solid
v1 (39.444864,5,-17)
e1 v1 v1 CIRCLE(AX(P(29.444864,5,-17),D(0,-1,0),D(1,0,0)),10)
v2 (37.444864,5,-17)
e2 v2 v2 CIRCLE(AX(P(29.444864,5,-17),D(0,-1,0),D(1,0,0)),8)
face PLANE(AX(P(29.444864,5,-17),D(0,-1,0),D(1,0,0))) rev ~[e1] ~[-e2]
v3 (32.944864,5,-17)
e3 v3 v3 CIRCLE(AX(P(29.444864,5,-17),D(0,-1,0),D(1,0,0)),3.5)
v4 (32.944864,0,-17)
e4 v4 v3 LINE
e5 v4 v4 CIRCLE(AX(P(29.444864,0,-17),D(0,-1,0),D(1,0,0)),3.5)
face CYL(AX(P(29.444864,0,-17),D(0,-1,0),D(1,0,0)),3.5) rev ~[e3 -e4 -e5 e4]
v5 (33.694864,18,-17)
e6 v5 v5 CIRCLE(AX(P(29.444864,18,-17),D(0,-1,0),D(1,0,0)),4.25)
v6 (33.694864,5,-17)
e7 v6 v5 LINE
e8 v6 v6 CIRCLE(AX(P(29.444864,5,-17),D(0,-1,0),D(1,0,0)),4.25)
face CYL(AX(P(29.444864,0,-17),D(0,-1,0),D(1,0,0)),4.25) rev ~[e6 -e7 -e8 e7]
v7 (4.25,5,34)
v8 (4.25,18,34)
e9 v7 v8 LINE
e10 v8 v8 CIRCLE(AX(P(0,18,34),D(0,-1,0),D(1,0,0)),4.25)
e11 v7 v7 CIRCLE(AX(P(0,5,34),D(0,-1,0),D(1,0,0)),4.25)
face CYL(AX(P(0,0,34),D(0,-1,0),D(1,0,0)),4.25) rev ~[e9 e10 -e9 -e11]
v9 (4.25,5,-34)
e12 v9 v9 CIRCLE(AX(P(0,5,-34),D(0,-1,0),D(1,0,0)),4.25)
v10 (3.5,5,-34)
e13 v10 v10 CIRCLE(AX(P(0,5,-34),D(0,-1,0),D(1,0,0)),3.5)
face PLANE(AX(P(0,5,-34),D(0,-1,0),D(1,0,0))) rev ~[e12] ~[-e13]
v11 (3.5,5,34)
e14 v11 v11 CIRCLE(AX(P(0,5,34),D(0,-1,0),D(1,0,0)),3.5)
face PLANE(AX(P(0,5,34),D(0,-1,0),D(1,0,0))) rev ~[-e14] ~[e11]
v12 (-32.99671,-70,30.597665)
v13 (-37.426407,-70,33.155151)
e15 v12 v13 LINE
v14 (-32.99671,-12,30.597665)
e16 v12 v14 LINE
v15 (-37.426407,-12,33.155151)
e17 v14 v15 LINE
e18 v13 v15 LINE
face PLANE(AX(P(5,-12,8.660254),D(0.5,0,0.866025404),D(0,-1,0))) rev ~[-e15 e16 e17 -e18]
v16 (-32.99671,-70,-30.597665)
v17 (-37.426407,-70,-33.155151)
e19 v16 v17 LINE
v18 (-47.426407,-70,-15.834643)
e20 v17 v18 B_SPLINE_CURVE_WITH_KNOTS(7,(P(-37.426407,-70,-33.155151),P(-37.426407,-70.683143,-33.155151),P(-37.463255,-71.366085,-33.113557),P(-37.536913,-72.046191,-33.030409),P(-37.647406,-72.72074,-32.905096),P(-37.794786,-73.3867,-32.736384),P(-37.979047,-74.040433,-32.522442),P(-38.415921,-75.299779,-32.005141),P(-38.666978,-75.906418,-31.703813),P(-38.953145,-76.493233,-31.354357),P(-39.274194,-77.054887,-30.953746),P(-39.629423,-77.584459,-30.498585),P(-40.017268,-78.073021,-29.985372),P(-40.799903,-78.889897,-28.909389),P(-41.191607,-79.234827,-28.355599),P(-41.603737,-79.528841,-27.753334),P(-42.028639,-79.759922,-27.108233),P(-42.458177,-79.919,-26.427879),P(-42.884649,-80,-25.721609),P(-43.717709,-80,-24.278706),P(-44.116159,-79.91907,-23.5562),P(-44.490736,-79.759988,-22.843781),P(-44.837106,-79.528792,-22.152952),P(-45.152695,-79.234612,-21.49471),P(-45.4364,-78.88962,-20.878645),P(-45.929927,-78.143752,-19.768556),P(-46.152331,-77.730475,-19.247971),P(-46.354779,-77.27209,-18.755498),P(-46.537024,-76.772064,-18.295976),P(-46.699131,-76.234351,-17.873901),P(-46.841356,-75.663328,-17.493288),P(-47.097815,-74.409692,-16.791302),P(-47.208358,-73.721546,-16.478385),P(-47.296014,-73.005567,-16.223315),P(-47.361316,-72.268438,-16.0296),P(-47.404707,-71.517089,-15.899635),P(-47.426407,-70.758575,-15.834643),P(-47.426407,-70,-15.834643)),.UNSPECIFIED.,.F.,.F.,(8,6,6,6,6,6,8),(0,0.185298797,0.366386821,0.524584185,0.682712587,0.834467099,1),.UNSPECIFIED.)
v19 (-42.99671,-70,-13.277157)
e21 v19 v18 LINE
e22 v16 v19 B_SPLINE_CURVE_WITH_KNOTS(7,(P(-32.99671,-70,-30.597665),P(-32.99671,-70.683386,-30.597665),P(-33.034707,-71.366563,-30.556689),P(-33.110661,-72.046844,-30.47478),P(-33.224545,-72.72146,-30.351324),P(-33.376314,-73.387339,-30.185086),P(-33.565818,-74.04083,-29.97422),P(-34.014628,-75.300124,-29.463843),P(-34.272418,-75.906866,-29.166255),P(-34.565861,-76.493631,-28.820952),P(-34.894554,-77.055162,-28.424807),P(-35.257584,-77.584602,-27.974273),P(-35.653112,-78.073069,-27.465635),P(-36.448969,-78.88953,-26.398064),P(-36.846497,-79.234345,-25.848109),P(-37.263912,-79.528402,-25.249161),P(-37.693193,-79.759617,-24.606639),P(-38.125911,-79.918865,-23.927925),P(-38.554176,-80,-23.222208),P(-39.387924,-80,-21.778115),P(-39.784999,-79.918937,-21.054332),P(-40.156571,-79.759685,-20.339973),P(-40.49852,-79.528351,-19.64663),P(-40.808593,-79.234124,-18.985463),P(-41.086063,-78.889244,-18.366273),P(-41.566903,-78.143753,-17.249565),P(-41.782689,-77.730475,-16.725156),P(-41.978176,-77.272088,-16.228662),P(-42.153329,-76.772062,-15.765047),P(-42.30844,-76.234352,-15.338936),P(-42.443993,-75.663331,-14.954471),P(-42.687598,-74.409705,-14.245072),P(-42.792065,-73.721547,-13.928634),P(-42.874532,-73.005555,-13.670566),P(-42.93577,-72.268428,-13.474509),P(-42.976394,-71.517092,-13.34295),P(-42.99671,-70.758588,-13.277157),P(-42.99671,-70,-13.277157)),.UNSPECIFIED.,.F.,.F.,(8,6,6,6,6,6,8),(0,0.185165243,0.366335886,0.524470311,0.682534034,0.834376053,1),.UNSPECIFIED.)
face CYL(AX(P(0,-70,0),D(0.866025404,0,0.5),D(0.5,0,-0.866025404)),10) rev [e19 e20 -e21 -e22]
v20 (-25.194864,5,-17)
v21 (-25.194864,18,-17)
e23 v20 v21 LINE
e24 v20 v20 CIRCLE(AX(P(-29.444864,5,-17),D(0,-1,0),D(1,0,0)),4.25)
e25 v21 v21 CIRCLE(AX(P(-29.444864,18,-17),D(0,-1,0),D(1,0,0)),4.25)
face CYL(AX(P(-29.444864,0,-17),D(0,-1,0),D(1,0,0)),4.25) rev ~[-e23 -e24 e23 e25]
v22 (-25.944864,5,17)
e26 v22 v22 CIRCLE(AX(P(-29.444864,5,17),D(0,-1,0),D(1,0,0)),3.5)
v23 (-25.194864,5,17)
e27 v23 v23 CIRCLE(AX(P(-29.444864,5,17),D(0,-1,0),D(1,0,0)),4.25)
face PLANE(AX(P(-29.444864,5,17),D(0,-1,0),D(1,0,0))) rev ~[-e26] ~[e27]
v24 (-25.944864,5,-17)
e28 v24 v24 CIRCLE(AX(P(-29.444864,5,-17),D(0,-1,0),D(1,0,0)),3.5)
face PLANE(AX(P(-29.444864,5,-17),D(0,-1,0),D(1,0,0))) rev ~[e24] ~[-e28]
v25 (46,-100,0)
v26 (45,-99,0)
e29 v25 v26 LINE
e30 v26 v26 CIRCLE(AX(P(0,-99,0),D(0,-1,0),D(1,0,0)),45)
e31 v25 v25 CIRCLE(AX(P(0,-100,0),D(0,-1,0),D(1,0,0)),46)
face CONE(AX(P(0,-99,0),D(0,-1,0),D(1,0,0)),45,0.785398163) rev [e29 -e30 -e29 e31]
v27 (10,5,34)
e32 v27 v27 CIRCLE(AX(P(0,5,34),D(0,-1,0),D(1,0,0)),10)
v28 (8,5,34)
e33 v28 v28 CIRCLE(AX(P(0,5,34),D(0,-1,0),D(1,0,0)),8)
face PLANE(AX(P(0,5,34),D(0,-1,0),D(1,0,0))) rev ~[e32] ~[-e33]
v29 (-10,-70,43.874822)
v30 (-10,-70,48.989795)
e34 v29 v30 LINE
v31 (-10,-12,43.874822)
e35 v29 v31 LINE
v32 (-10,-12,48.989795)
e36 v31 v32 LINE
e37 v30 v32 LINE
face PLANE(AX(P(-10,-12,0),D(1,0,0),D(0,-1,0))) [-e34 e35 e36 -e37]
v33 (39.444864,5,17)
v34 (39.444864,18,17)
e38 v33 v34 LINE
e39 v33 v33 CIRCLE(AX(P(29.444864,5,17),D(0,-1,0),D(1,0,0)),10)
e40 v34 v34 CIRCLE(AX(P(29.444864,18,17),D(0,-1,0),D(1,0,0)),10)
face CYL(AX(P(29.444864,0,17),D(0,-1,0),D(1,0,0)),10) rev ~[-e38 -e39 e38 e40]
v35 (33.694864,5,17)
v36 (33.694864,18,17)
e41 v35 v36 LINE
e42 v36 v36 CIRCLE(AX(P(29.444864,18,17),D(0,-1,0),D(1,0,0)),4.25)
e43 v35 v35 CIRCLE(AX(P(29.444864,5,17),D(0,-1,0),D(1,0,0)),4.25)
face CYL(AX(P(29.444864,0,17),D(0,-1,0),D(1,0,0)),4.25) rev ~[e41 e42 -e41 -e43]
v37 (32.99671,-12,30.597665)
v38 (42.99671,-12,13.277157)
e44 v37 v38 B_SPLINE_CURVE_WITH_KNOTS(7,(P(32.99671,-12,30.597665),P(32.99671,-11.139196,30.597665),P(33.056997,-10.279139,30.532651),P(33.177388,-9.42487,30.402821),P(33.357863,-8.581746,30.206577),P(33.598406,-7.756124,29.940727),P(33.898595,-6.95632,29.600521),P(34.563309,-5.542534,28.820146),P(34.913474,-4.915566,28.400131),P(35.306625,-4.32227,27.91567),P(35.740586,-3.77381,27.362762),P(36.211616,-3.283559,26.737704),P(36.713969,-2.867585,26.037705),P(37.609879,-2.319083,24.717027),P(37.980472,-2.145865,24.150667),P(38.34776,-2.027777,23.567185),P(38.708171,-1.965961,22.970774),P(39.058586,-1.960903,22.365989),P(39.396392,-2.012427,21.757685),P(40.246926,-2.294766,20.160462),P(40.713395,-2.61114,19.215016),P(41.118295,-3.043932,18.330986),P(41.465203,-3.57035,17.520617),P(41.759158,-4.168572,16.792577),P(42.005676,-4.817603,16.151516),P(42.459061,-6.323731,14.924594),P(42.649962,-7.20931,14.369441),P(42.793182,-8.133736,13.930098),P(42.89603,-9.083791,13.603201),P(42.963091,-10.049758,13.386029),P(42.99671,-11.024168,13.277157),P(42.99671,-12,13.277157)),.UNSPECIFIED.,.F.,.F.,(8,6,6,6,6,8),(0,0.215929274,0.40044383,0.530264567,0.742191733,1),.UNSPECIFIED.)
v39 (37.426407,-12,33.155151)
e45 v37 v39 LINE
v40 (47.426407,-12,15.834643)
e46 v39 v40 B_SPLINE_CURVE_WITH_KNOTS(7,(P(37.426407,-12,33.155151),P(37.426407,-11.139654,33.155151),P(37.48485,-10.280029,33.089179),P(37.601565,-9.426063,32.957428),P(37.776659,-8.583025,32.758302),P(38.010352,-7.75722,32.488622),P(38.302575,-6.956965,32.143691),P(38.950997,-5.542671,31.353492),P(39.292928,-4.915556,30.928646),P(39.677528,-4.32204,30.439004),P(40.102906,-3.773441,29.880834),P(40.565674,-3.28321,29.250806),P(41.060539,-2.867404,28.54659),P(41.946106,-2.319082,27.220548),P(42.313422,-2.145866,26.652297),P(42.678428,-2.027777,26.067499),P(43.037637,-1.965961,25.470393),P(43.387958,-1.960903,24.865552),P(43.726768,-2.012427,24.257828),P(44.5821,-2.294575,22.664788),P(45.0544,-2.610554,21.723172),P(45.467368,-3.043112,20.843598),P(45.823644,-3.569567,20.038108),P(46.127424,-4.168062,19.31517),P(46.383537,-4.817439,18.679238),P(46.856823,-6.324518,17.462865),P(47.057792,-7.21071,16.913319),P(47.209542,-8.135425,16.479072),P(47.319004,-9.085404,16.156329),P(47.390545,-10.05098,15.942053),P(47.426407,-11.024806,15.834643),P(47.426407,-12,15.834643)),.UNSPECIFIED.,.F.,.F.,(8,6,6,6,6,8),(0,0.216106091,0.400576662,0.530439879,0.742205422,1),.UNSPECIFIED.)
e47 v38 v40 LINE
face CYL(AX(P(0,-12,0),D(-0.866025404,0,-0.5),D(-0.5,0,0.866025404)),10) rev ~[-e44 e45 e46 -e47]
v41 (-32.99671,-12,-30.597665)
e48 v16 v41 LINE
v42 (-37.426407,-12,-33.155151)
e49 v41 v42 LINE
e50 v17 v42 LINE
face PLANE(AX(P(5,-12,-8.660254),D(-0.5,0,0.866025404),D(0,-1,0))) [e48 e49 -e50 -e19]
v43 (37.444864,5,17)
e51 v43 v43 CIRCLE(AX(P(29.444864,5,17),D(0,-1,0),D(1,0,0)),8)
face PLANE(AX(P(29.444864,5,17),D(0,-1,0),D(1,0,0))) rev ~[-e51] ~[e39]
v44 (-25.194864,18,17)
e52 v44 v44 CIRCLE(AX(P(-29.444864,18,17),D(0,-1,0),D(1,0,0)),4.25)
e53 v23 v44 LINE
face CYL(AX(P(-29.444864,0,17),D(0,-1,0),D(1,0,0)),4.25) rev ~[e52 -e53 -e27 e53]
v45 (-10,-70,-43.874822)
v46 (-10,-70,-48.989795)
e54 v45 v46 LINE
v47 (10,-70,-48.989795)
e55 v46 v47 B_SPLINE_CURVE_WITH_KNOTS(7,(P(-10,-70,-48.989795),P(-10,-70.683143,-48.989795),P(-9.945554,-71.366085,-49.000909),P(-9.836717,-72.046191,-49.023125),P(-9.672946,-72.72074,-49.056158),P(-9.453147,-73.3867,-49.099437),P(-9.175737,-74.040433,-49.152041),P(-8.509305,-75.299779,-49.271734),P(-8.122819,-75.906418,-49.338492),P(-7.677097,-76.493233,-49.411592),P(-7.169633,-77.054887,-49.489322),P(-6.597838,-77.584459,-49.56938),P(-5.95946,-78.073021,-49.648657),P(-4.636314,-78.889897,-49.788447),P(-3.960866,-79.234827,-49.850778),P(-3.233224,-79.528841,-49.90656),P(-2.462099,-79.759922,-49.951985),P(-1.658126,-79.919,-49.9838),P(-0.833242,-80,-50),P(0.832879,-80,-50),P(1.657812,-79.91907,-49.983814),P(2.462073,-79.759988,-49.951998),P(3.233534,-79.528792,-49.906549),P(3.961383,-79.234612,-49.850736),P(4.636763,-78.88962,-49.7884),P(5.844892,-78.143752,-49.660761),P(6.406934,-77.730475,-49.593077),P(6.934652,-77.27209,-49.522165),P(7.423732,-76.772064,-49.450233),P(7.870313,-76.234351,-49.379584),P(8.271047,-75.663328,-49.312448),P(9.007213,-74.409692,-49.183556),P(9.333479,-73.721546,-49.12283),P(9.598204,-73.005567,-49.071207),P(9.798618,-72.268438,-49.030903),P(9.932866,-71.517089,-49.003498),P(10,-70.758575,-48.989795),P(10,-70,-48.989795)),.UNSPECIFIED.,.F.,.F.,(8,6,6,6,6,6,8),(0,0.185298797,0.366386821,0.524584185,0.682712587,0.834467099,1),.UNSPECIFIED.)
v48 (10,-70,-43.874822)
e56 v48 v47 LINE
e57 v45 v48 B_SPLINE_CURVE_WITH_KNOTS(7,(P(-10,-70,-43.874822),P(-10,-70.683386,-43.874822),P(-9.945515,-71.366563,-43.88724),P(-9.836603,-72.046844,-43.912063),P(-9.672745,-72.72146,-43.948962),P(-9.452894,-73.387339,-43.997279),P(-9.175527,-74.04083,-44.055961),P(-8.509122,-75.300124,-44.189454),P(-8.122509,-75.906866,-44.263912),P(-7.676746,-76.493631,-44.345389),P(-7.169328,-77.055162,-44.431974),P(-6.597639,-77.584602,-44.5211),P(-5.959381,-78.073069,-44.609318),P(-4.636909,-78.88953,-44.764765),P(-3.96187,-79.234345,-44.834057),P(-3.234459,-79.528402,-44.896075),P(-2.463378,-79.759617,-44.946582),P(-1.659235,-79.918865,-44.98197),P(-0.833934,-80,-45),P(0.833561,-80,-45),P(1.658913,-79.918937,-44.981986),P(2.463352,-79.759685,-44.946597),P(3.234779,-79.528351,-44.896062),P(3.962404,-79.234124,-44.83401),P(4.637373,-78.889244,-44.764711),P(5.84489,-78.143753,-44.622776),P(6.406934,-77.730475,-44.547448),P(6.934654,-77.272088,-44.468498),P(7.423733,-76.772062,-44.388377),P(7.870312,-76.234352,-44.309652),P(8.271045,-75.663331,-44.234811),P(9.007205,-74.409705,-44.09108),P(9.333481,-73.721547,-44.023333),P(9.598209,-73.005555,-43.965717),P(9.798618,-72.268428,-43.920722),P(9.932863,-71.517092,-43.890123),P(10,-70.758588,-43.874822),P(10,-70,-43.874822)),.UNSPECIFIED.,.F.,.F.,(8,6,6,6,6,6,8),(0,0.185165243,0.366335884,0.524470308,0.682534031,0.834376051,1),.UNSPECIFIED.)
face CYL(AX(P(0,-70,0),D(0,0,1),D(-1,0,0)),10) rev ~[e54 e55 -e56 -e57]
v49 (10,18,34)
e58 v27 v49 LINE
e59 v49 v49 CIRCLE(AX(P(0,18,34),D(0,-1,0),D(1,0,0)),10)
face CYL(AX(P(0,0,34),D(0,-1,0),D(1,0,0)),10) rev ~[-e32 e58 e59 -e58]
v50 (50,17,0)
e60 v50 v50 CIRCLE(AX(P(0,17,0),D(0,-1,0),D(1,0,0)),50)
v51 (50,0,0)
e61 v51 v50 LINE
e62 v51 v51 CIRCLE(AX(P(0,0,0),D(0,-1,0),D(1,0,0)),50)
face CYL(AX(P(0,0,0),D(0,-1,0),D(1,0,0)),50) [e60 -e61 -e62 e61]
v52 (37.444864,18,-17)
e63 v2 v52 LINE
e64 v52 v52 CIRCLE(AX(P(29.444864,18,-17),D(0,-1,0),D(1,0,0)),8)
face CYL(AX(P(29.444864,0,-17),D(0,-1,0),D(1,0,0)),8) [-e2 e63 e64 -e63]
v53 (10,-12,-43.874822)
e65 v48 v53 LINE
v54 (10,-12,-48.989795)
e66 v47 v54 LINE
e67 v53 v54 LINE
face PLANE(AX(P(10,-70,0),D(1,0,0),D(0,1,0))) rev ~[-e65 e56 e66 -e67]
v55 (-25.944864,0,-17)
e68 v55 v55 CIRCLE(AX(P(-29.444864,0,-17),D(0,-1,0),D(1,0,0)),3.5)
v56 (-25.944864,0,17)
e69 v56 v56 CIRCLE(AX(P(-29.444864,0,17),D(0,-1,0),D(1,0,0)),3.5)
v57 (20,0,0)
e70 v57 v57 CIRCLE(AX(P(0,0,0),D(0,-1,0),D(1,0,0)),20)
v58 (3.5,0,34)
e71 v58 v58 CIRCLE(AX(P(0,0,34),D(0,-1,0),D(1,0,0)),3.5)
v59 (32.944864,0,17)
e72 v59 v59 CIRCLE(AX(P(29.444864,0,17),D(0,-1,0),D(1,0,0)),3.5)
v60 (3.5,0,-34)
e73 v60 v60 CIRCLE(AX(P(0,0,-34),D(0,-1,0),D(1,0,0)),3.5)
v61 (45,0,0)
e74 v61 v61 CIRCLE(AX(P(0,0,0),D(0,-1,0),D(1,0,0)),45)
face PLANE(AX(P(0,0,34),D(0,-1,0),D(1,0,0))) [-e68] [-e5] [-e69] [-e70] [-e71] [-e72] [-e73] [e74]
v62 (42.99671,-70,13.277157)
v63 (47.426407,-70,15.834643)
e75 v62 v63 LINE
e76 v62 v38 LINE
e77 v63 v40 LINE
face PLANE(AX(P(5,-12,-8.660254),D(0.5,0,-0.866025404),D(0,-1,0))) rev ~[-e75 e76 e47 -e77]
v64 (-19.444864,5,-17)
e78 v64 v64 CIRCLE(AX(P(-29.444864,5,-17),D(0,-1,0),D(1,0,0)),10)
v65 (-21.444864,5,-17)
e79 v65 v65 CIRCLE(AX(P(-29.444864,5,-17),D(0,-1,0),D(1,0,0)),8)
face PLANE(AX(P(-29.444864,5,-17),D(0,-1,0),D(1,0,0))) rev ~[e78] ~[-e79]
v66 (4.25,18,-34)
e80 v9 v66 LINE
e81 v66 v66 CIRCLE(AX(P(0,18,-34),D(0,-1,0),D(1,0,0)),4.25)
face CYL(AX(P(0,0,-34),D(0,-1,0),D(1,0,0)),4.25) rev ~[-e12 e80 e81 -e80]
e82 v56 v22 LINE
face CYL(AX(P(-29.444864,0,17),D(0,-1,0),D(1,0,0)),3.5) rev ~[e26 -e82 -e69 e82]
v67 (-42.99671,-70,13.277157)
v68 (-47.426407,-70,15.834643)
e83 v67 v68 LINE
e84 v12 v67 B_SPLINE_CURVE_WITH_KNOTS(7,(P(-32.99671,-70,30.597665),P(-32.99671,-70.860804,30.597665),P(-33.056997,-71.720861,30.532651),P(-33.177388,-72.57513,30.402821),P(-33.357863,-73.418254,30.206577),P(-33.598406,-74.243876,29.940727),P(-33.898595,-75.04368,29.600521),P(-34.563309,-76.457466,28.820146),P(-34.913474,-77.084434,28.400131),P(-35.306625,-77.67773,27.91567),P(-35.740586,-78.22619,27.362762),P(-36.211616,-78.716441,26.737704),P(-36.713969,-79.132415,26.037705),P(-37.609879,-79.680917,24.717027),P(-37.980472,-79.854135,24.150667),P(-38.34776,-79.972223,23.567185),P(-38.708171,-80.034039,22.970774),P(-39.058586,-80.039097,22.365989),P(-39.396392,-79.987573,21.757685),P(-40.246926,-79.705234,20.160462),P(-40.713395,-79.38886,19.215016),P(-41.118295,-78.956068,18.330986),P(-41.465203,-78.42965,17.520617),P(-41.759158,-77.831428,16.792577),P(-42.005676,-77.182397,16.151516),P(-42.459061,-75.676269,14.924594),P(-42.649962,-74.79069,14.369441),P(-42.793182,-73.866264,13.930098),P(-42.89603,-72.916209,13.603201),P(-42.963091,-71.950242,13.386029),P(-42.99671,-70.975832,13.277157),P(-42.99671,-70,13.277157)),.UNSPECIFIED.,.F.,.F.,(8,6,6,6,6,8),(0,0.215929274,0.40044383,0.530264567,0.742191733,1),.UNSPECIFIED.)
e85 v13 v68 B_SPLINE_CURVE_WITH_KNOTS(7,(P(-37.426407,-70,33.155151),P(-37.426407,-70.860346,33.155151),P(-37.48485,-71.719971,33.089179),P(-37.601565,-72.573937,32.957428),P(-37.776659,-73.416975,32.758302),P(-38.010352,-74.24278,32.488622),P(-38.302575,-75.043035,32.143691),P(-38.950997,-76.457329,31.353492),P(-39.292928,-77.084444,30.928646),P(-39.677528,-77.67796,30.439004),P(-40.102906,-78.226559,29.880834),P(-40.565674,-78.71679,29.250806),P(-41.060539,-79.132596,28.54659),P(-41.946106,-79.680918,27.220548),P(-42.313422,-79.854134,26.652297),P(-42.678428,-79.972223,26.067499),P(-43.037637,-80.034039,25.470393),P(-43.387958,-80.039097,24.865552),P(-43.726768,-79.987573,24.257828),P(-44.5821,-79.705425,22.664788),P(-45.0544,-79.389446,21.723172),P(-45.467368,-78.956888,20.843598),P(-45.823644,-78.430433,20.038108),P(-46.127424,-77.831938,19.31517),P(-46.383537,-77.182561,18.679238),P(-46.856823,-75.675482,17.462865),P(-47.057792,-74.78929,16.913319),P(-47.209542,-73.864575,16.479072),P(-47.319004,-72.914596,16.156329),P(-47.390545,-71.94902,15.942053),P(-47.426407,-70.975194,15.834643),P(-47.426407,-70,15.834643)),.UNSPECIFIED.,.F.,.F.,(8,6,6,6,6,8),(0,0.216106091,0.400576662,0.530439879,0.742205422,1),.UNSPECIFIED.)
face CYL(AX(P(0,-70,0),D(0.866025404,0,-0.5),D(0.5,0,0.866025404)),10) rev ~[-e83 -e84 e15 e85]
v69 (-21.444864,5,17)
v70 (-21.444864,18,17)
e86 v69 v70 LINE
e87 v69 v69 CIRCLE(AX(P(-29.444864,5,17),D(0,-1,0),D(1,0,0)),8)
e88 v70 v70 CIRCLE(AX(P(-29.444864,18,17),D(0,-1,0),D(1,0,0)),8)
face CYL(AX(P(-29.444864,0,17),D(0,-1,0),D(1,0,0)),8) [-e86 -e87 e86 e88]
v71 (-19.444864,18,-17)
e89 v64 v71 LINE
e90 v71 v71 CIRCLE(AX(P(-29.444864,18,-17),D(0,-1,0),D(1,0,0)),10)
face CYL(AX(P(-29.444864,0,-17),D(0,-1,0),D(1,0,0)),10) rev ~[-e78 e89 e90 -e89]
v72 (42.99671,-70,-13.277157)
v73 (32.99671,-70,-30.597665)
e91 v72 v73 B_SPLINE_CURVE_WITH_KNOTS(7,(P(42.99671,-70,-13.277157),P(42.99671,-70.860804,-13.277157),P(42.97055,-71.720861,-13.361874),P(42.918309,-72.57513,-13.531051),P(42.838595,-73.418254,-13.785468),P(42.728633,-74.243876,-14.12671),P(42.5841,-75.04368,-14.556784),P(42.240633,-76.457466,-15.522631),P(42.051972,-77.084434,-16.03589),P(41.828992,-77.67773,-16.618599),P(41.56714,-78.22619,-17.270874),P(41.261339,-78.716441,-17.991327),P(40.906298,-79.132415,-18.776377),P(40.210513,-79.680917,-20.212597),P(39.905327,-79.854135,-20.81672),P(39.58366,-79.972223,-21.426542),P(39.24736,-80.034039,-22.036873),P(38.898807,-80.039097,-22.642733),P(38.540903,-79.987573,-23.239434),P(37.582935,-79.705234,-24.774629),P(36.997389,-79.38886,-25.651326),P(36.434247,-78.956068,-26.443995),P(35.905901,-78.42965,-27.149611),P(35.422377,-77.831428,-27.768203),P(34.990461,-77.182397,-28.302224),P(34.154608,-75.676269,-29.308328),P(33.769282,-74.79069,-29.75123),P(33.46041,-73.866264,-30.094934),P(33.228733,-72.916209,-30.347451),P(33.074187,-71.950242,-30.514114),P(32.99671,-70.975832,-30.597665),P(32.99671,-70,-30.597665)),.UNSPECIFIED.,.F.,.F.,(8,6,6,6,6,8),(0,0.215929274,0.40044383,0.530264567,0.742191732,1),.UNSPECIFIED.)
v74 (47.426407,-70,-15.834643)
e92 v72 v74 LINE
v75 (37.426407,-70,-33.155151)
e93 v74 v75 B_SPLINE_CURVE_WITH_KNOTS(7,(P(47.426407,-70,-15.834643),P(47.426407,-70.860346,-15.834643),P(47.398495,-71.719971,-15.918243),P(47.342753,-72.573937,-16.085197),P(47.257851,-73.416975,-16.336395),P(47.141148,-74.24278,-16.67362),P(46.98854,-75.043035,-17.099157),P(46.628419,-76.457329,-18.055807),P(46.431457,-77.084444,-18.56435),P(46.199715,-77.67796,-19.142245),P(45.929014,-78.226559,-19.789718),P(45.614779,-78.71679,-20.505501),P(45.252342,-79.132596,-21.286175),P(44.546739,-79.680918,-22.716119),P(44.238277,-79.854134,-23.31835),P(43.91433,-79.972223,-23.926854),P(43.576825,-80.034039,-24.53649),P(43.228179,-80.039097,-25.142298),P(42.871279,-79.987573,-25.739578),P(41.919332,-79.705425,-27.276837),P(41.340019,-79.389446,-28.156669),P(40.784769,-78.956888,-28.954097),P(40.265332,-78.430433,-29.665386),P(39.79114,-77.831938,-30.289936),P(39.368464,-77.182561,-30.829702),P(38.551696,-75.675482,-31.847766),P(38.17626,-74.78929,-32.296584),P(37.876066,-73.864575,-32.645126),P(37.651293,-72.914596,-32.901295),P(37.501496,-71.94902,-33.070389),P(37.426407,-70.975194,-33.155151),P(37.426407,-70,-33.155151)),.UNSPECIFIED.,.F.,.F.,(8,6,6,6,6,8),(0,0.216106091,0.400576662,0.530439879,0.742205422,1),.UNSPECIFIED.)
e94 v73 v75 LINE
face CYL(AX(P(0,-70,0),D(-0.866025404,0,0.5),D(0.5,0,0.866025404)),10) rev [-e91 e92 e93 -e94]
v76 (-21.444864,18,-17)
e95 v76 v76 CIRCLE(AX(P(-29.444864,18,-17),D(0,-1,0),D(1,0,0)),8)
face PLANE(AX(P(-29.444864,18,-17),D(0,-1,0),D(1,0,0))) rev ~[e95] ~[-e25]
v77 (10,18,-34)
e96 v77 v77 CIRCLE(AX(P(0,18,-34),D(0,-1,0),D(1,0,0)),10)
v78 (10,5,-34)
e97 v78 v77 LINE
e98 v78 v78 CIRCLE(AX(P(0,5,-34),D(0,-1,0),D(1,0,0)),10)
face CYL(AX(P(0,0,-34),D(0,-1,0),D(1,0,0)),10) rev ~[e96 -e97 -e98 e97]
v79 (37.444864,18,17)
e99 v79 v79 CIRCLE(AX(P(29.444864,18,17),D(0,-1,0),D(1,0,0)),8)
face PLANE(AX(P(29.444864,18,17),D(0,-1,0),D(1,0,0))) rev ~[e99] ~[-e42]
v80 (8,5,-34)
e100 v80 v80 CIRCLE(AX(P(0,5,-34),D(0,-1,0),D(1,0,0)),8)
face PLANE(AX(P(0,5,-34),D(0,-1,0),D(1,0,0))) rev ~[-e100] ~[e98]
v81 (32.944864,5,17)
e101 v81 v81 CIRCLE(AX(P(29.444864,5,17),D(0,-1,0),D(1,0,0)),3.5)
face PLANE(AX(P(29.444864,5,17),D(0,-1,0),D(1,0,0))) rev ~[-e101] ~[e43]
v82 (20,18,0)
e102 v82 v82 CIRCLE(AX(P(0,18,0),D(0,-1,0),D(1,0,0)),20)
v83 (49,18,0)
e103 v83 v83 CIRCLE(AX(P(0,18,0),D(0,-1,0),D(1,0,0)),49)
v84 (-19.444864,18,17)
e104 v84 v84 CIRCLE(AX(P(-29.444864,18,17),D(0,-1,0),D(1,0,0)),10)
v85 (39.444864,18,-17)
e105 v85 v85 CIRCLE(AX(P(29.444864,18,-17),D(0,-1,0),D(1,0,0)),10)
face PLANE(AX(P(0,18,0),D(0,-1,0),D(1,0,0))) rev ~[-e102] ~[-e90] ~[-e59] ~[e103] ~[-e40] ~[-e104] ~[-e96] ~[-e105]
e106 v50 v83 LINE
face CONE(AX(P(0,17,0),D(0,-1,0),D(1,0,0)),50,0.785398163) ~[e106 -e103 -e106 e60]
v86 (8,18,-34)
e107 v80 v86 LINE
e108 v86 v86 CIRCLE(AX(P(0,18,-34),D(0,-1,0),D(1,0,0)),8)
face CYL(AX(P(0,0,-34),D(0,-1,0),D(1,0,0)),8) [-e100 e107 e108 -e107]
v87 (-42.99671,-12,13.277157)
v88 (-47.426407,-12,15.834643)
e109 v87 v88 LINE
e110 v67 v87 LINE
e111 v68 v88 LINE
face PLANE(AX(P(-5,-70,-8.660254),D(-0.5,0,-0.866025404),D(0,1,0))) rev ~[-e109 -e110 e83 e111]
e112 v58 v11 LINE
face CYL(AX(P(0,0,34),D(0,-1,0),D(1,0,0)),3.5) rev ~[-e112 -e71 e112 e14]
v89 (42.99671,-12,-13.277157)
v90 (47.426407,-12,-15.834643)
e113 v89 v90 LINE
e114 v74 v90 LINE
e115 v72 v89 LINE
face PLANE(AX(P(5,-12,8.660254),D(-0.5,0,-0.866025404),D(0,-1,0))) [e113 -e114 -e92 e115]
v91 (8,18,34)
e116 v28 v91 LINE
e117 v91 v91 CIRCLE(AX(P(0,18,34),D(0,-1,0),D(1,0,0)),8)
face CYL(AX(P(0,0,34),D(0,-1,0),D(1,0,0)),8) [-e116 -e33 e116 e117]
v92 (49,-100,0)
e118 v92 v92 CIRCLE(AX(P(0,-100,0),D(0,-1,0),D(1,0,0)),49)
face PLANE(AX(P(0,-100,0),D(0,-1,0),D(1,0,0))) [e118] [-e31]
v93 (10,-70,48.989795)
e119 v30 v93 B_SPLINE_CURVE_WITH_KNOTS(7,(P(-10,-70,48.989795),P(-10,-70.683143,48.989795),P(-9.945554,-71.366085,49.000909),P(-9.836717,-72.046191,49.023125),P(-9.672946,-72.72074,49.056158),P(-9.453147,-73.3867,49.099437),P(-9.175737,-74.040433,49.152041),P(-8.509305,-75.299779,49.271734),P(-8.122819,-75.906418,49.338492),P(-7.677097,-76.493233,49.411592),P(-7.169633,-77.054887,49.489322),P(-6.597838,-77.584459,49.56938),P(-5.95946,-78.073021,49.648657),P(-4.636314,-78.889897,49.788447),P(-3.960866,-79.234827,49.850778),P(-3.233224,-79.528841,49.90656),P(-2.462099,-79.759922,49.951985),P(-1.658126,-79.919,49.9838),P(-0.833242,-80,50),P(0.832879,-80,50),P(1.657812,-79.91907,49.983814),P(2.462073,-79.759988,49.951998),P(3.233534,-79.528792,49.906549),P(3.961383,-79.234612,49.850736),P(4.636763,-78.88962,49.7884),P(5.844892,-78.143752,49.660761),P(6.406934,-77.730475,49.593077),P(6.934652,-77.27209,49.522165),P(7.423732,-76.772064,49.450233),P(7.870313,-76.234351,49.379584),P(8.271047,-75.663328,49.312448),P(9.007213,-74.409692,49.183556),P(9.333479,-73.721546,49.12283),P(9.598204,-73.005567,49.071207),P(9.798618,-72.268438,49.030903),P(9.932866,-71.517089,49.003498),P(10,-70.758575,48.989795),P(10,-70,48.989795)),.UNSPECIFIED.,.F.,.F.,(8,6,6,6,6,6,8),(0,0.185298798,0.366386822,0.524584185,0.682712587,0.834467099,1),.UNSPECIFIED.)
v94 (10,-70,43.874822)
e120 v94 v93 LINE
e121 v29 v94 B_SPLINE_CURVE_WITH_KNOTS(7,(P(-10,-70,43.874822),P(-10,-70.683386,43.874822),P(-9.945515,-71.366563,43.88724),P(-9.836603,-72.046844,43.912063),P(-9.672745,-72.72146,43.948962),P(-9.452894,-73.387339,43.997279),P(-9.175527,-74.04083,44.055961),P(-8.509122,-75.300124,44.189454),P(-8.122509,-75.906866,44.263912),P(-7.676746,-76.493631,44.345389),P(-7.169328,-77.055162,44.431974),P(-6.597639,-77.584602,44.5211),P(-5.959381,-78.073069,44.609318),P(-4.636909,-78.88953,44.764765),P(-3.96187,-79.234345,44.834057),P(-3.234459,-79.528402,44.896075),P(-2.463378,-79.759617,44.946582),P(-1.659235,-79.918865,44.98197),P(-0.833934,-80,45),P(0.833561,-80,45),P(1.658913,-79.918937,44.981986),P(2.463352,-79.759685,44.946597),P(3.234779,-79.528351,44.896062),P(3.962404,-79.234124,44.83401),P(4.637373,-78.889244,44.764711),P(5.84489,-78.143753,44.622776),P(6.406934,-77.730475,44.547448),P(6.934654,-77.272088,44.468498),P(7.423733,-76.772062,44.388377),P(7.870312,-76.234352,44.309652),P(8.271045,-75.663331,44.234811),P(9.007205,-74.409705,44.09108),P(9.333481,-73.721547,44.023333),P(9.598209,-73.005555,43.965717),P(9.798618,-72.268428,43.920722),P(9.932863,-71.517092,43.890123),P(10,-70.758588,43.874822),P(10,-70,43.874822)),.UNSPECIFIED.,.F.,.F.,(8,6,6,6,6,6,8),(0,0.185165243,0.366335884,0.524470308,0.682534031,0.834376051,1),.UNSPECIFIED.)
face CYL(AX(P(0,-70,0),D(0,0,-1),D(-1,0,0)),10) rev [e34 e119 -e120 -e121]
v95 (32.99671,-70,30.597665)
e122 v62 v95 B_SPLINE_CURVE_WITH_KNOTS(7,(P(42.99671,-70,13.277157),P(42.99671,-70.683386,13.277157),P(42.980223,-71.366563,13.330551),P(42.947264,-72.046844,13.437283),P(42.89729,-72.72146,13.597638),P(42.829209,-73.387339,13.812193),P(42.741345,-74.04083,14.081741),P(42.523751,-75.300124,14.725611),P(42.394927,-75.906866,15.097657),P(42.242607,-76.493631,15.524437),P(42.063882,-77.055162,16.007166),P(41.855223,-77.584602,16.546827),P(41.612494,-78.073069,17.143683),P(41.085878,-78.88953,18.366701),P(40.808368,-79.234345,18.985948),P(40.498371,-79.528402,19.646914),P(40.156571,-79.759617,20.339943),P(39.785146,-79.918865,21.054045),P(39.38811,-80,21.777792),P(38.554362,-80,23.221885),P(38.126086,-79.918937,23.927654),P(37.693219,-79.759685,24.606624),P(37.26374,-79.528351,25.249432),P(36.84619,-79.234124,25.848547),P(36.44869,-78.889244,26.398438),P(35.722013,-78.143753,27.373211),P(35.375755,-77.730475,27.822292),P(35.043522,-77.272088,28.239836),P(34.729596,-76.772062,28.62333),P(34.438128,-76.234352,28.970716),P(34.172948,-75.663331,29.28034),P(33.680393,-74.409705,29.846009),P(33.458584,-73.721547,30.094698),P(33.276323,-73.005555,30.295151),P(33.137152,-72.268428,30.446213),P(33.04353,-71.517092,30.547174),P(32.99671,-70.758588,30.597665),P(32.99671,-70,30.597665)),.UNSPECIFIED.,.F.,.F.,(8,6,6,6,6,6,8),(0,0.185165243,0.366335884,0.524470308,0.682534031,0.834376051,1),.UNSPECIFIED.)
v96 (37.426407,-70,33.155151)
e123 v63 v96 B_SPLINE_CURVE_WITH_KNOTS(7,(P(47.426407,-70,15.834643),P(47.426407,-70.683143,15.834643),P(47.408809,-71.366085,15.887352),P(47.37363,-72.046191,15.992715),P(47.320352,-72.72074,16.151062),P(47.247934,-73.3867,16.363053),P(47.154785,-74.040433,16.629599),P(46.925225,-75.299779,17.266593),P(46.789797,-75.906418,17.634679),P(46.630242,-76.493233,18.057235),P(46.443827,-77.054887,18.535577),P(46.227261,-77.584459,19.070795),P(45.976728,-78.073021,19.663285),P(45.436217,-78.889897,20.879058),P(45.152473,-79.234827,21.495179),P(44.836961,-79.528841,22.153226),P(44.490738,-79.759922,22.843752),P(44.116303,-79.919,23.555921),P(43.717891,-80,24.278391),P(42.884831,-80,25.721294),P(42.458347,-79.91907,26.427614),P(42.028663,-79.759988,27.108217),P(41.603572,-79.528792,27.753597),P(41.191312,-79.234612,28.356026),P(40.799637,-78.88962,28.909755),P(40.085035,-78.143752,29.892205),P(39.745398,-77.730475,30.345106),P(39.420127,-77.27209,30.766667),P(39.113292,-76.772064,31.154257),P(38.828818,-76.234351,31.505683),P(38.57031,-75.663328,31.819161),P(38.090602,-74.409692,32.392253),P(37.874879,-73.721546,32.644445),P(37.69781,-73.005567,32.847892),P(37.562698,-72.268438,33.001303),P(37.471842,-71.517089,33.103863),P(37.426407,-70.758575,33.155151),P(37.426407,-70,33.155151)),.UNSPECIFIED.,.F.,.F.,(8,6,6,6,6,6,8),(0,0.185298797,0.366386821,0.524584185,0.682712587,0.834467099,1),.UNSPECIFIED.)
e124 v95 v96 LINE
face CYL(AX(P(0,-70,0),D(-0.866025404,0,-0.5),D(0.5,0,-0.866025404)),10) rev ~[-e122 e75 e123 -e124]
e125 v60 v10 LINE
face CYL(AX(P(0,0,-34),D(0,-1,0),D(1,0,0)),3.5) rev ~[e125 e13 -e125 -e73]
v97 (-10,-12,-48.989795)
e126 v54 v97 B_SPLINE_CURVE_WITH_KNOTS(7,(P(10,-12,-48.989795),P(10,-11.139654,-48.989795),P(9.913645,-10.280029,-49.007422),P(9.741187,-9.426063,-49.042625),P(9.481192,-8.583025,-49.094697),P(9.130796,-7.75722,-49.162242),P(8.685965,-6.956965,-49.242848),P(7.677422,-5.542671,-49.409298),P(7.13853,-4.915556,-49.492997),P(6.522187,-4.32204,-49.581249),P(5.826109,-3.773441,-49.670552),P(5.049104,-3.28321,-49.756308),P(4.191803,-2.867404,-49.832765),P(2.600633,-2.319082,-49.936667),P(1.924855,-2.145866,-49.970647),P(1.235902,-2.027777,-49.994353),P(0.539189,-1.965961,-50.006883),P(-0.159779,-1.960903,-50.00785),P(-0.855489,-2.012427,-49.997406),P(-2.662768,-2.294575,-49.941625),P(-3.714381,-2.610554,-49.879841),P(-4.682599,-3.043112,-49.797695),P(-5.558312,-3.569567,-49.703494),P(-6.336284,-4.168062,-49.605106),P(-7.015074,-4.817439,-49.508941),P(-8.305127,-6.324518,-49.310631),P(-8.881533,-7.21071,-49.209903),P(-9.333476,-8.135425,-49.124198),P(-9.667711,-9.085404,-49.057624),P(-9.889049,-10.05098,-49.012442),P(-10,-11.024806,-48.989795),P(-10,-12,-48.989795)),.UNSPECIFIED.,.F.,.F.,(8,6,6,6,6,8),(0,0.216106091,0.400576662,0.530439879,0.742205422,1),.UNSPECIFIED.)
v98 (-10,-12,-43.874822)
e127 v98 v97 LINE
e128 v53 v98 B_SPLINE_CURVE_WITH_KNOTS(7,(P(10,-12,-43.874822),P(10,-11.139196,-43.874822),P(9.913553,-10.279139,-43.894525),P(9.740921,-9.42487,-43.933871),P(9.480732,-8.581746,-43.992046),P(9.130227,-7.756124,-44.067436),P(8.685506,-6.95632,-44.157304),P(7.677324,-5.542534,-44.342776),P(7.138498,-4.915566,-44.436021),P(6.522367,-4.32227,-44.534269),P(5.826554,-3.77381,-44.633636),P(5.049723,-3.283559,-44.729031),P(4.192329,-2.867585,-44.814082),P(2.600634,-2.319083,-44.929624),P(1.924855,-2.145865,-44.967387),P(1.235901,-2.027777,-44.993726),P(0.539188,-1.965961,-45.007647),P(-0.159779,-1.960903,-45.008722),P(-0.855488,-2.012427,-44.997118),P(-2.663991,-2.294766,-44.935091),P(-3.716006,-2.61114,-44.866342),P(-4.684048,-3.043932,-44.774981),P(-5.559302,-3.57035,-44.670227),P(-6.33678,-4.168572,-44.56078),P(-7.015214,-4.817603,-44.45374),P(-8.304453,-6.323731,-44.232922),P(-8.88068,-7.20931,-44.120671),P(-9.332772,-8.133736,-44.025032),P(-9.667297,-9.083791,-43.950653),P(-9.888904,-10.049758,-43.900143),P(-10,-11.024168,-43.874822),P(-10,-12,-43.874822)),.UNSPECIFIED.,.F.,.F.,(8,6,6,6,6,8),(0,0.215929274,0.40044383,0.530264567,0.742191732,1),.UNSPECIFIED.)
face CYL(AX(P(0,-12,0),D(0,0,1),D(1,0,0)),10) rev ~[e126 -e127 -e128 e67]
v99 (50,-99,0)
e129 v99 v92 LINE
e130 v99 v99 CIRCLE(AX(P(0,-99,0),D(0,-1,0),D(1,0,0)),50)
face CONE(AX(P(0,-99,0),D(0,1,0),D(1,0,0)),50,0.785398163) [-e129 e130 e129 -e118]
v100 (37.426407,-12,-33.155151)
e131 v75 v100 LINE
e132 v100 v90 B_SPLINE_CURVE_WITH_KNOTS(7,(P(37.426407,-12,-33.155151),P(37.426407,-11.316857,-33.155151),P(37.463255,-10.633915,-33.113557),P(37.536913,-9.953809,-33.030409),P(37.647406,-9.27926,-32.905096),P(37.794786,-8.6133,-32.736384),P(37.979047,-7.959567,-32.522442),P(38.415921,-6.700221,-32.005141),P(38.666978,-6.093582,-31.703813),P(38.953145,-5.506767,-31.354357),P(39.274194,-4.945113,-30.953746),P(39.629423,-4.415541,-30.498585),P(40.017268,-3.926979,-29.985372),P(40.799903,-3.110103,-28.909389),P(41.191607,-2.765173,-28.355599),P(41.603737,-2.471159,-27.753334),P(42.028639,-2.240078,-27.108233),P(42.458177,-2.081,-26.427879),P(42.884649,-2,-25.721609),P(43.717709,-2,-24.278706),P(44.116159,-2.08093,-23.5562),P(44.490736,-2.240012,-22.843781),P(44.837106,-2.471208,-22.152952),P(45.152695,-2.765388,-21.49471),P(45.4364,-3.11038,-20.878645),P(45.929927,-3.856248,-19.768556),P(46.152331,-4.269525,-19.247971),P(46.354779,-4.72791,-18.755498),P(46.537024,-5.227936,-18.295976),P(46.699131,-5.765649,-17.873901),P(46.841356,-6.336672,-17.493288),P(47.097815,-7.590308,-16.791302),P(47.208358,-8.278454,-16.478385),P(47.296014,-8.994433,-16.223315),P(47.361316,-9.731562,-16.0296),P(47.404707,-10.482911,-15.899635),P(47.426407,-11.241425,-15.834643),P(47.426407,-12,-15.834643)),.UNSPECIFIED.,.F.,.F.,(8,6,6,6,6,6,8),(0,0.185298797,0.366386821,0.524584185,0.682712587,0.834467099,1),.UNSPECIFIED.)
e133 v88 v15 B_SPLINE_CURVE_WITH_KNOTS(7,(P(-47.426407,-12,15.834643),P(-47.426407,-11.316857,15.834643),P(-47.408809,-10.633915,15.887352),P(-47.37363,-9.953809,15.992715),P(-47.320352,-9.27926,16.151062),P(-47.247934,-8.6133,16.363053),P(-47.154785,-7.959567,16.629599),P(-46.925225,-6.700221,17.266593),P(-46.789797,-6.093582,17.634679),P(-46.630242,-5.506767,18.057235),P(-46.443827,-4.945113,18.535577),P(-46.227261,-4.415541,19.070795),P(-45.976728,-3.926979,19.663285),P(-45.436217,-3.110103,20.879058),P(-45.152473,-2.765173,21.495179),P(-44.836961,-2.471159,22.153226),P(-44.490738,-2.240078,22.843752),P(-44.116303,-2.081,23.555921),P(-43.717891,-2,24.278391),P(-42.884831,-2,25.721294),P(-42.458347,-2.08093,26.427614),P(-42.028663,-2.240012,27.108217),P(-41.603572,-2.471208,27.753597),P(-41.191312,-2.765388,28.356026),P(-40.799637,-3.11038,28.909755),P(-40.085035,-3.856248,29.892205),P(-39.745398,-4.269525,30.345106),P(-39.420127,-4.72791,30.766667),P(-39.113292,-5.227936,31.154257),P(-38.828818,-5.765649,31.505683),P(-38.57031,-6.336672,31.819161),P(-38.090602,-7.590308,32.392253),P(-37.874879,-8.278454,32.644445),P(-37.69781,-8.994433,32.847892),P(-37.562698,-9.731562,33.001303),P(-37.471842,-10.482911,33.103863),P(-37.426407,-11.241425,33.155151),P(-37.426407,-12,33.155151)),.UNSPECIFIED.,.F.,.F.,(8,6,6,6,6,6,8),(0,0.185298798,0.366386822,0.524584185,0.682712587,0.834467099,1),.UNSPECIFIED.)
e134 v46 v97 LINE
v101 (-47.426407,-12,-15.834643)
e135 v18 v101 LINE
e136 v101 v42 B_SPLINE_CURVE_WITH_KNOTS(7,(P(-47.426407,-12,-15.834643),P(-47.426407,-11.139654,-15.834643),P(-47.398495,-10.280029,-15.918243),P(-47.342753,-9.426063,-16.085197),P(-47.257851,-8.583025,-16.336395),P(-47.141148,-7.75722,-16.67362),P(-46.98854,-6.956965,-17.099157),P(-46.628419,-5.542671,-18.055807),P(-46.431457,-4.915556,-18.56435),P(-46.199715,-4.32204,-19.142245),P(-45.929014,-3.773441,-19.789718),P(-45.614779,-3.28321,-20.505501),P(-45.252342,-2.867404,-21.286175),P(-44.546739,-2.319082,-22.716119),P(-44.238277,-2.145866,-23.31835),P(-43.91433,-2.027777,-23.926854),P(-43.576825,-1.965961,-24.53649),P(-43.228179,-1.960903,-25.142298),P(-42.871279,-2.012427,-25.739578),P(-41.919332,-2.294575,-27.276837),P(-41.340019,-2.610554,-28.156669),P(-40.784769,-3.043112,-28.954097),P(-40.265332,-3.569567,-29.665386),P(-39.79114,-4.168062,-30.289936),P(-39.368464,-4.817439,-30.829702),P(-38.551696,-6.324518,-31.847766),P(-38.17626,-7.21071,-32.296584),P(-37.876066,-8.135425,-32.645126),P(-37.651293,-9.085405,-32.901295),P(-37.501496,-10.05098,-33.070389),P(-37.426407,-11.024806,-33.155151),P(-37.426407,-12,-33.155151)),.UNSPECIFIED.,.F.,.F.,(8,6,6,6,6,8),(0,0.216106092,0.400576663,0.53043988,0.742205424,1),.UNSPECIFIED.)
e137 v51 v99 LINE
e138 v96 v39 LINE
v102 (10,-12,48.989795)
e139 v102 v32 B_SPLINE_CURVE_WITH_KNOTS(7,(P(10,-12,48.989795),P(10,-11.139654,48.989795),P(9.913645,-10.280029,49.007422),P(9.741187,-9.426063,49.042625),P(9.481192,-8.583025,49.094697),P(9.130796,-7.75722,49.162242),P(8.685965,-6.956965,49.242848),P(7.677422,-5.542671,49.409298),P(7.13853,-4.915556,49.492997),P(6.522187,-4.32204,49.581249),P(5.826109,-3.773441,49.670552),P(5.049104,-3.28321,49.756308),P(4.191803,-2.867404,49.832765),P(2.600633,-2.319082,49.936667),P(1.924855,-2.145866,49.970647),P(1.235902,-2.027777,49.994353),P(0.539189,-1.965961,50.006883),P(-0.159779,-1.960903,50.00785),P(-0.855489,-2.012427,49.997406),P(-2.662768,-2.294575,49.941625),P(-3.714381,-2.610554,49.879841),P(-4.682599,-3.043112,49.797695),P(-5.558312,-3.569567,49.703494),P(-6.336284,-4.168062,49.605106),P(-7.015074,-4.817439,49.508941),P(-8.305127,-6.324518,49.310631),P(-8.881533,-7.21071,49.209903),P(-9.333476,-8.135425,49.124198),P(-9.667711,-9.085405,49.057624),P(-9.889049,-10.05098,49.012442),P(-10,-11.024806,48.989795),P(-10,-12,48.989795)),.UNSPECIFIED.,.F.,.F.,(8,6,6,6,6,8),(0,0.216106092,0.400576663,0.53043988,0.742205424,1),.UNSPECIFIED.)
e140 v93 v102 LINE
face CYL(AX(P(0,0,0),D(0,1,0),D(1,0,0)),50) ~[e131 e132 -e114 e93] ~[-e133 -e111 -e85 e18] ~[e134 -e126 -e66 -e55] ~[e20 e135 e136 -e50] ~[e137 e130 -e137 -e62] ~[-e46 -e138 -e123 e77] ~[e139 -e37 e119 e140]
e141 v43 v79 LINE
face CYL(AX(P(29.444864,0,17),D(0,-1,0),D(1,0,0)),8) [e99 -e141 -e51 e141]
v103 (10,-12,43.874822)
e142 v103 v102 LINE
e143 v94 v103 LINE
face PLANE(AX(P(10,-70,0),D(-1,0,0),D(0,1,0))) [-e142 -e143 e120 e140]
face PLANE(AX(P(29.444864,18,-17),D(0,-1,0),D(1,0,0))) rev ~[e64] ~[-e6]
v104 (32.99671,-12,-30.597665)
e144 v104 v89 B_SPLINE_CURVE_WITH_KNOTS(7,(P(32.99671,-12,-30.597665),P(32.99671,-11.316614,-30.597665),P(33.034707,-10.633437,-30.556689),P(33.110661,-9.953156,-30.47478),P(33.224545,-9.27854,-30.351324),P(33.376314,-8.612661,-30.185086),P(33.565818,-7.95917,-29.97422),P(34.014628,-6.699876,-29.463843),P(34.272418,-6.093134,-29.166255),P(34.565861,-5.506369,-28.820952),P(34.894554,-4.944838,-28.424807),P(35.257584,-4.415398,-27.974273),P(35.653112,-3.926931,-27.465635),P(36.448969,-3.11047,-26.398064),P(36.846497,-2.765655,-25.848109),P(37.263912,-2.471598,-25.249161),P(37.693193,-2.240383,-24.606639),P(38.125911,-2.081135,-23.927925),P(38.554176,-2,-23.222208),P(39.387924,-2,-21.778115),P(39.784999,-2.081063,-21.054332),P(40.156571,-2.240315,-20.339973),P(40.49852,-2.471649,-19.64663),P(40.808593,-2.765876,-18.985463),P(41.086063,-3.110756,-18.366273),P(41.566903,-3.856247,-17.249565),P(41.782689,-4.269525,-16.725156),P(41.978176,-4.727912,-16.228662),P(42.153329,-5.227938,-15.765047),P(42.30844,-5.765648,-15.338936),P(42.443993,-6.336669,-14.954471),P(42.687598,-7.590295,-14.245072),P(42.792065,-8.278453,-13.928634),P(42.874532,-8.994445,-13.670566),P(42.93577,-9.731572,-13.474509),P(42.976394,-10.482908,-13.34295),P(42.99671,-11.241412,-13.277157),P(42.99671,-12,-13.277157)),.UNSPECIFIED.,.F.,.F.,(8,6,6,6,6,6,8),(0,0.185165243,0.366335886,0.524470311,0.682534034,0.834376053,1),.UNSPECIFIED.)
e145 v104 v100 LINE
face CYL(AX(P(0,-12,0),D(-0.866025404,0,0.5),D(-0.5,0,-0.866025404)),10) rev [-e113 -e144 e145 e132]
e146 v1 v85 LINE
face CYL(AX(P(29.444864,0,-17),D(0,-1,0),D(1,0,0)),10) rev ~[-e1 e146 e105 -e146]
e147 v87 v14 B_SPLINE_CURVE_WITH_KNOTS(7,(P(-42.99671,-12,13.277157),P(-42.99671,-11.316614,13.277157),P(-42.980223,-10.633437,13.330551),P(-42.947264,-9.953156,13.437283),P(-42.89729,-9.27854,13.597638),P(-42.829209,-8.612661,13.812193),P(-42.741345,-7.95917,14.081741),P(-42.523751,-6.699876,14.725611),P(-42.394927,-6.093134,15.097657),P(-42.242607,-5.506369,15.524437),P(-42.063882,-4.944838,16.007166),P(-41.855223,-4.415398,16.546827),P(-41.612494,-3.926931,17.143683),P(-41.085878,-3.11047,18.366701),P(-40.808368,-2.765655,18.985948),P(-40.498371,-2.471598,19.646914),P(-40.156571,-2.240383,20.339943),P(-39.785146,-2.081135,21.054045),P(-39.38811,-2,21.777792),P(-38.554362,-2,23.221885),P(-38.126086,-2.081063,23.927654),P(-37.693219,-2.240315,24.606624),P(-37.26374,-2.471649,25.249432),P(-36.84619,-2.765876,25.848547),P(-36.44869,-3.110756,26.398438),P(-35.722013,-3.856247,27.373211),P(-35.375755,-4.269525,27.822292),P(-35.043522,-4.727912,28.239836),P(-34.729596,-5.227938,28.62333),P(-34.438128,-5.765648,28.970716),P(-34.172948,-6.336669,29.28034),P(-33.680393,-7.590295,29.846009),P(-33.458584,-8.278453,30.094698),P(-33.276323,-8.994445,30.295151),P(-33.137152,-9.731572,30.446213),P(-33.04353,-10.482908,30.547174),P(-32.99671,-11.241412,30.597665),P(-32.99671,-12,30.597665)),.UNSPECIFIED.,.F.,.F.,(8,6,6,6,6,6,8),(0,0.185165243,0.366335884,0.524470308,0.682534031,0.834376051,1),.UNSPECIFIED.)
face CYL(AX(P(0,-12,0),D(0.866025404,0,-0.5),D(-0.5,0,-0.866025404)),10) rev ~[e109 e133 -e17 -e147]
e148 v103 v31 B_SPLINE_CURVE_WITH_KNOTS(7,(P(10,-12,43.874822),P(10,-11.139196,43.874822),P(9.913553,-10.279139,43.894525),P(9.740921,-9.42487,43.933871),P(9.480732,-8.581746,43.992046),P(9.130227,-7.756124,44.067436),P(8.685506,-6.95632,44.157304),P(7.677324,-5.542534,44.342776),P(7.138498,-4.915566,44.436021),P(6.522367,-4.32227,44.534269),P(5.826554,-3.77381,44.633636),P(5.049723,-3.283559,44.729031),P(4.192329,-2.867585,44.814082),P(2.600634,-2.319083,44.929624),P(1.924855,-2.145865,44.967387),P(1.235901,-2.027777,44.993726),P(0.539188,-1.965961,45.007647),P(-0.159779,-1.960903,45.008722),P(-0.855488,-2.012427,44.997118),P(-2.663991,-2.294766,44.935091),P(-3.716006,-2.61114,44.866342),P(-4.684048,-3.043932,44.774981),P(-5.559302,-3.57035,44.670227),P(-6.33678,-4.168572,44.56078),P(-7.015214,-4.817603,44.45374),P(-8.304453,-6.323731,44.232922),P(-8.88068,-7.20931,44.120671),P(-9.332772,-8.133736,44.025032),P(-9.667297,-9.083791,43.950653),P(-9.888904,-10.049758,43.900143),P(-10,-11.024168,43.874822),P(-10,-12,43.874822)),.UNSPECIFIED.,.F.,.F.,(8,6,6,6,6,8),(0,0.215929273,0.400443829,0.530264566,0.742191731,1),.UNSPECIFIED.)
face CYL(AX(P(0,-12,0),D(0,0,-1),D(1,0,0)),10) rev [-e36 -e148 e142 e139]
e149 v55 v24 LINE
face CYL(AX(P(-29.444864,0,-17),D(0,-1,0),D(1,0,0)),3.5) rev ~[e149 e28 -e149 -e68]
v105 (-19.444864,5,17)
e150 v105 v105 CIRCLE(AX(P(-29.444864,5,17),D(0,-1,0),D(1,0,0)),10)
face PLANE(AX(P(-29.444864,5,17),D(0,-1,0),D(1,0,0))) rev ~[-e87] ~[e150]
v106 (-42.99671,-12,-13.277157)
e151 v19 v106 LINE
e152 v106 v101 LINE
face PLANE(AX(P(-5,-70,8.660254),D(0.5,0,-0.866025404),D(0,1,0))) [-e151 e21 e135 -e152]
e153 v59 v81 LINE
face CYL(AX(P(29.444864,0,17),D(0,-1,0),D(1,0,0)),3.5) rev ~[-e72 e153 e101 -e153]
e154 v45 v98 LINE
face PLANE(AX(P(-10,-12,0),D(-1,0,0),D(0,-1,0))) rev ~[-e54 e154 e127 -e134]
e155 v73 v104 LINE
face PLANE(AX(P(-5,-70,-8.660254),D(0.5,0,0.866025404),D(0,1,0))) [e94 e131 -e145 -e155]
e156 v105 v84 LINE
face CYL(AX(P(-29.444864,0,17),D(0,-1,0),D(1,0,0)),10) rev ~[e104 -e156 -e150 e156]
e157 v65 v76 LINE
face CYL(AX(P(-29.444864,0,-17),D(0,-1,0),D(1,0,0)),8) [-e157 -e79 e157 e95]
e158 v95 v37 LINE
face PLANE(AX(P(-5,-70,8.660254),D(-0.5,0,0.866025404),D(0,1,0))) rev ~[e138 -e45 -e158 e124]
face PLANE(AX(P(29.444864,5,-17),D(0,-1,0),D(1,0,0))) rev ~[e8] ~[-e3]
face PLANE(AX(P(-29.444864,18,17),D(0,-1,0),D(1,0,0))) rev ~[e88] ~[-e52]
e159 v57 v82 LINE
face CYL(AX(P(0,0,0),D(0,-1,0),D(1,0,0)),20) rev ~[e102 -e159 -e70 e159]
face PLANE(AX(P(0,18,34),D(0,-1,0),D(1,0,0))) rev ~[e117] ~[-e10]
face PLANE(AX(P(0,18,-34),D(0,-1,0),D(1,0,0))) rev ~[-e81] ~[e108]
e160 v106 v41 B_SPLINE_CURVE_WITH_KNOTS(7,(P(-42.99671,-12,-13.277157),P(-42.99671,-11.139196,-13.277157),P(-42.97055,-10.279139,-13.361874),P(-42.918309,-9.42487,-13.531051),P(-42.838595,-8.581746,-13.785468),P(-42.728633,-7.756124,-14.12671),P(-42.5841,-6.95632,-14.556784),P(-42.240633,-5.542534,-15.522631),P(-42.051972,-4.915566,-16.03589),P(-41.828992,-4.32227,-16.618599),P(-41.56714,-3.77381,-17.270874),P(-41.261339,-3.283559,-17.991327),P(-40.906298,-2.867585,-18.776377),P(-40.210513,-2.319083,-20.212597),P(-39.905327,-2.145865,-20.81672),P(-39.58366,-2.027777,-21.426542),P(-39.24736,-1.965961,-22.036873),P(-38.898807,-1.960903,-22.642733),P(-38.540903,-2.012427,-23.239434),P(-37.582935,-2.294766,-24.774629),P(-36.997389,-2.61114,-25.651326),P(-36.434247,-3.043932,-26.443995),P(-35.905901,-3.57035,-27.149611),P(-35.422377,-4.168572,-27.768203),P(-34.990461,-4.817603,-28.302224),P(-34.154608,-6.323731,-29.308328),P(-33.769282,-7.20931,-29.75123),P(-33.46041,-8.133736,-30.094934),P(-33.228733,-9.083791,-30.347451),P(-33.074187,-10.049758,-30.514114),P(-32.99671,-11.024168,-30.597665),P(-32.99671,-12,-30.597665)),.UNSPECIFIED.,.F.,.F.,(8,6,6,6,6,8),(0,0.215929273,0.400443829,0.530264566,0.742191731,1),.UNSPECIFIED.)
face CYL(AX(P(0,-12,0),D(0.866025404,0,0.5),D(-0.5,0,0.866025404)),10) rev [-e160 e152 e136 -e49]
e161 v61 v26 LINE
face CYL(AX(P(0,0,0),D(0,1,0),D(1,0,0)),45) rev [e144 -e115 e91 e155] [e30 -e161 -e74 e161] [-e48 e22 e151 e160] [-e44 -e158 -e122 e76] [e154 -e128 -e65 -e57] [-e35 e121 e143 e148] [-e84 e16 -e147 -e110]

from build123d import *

# Parameters (mm, degrees)
F1_R           = 50
F1_R_2         = 45
F1_R_3         = 10
F1_R_4         = 20
F2_DEPTH       = 18
F1_R_5         = 8
F1_R_6         = 4.25
F1_R_7         = 3.5
F3_DEPTH       = 5
F4_DEPTH       = 100
F6_DEPTH       = 50.001
F6_DEPTH_BACK  = 50.001
F9_DEPTH       = 68.3022703266
F9_DEPTH_BACK  = 68.3022703266
F12_DEPTH      = 68.3022703266
F12_DEPTH_BACK = 68.3022703266
F13_SIZE       = 1


with BuildPart() as f2:
    # F1 (on Front) → F2 (new body)
    with BuildSketch(Plane.XZ):
        Circle(F1_R)
        Circle(F1_R_2, mode=Mode.SUBTRACT)
        Circle(F1_R_2)
        with Locations((-29.4448637287, -17)):
            Circle(F1_R_3, mode=Mode.SUBTRACT)
        with Locations((0, -34)):
            Circle(F1_R_3, mode=Mode.SUBTRACT)
        with Locations((29.4448637287, -17)):
            Circle(F1_R_3, mode=Mode.SUBTRACT)
        with Locations((-29.4448637287, 17)):
            Circle(F1_R_3, mode=Mode.SUBTRACT)
        Circle(F1_R_4, mode=Mode.SUBTRACT)
        with Locations((29.4448637287, 17)):
            Circle(F1_R_3, mode=Mode.SUBTRACT)
        with Locations((0, 34)):
            Circle(F1_R_3, mode=Mode.SUBTRACT)
    extrude(amount=-F2_DEPTH)



with BuildPart() as f2b:
    # F1 (on Front) → F2, piece 2 (new body)
    with BuildSketch(Plane.XZ):
        with Locations((-29.4448637287, 17)):
            Circle(F1_R_5)
        with Locations((-29.4448637287, 17)):
            Circle(F1_R_6, mode=Mode.SUBTRACT)
    extrude(amount=-F2_DEPTH)


with BuildPart() as f2c:
    # F1 (on Front) → F2, piece 3 (new body)
    with BuildSketch(Plane.XZ):
        with Locations((0, 34)):
            Circle(F1_R_5)
        with Locations((0, 34)):
            Circle(F1_R_6, mode=Mode.SUBTRACT)
    extrude(amount=-F2_DEPTH)


with BuildPart() as f2d:
    # F1 (on Front) → F2, piece 4 (new body)
    with BuildSketch(Plane.XZ):
        with Locations((29.4448637287, 17)):
            Circle(F1_R_5)
        with Locations((29.4448637287, 17)):
            Circle(F1_R_6, mode=Mode.SUBTRACT)
    extrude(amount=-F2_DEPTH)


with BuildPart() as f2e:
    # F1 (on Front) → F2, piece 5 (new body)
    with BuildSketch(Plane.XZ):
        with Locations((-29.4448637287, -17)):
            Circle(F1_R_5)
        with Locations((-29.4448637287, -17)):
            Circle(F1_R_6, mode=Mode.SUBTRACT)
    extrude(amount=-F2_DEPTH)


with BuildPart() as f2f:
    # F1 (on Front) → F2, piece 6 (new body)
    with BuildSketch(Plane.XZ):
        with Locations((0, -34)):
            Circle(F1_R_5)
        with Locations((0, -34)):
            Circle(F1_R_6, mode=Mode.SUBTRACT)
    extrude(amount=-F2_DEPTH)


with BuildPart() as f2g:
    # F1 (on Front) → F2, piece 7 (new body)
    with BuildSketch(Plane.XZ):
        with Locations((29.4448637287, -17)):
            Circle(F1_R_5)
        with Locations((29.4448637287, -17)):
            Circle(F1_R_6, mode=Mode.SUBTRACT)
    extrude(amount=-F2_DEPTH)


with BuildPart() as f2_1:
    add(f2.part)

    add(f2b.part)  # F3 merges F2b

    add(f2c.part)  # F3 merges F2c

    add(f2d.part)  # F3 merges F2d

    add(f2e.part)  # F3 merges F2e

    add(f2f.part)  # F3 merges F2f

    add(f2g.part)  # F3 merges F2g
    # F1 (on Front) → F3 (join)
    with BuildSketch(Plane.XZ):
        with Locations((0, 34)):
            Circle(F1_R_3)
        with Locations((0, 34)):
            Circle(F1_R_5, mode=Mode.SUBTRACT)
        with Locations((-29.4448637287, 17)):
            Circle(F1_R_3)
        with Locations((-29.4448637287, 17)):
            Circle(F1_R_5, mode=Mode.SUBTRACT)
        with Locations((-29.4448637287, -17)):
            Circle(F1_R_3)
        with Locations((-29.4448637287, -17)):
            Circle(F1_R_5, mode=Mode.SUBTRACT)
        with Locations((0, -34)):
            Circle(F1_R_3)
        with Locations((0, -34)):
            Circle(F1_R_5, mode=Mode.SUBTRACT)
        with Locations((29.4448637287, -17)):
            Circle(F1_R_3)
        with Locations((29.4448637287, -17)):
            Circle(F1_R_5, mode=Mode.SUBTRACT)
        with Locations((29.4448637287, 17)):
            Circle(F1_R_3)
        with Locations((29.4448637287, 17)):
            Circle(F1_R_5, mode=Mode.SUBTRACT)
        with Locations((-29.4448637287, 17)):
            Circle(F1_R_6)
        with Locations((-29.4448637287, 17)):
            Circle(F1_R_7, mode=Mode.SUBTRACT)
        with Locations((0, 34)):
            Circle(F1_R_6)
        with Locations((0, 34)):
            Circle(F1_R_7, mode=Mode.SUBTRACT)
        with Locations((29.4448637287, 17)):
            Circle(F1_R_6)
        with Locations((29.4448637287, 17)):
            Circle(F1_R_7, mode=Mode.SUBTRACT)
        with Locations((-29.4448637287, -17)):
            Circle(F1_R_6)
        with Locations((-29.4448637287, -17)):
            Circle(F1_R_7, mode=Mode.SUBTRACT)
        with Locations((0, -34)):
            Circle(F1_R_6)
        with Locations((0, -34)):
            Circle(F1_R_7, mode=Mode.SUBTRACT)
        with Locations((29.4448637287, -17)):
            Circle(F1_R_6)
        with Locations((29.4448637287, -17)):
            Circle(F1_R_7, mode=Mode.SUBTRACT)
    extrude(amount=-F3_DEPTH)

    # F1 (on Front) → F4 (join)
    with BuildSketch(Plane.XZ):
        Circle(F1_R)
        Circle(F1_R_2, mode=Mode.SUBTRACT)
    extrude(amount=F4_DEPTH)

    # F5 (on Top) → F6 (cut, two sides)
    with BuildSketch(Plane.XY) as f6_sk:
        with BuildLine():
            Line((10, -70), (10, -12))
            ThreePointArc((10, -12), (0, -2), (-10, -12))
            Line((-10, -12), (-10, -70))
            ThreePointArc((-10, -70), (0, -80), (10, -70))
        make_face()
    extrude(amount=-F6_DEPTH, mode=Mode.SUBTRACT)
    extrude(f6_sk.sketch, amount=F6_DEPTH_BACK, mode=Mode.SUBTRACT)

    # F8 (on line) → F9 (cut, two sides)
    with BuildSketch(Plane(origin=(0, 0, 0), x_dir=(0, 1, 0), z_dir=(0.8660254038, 0, -0.5))) as f9_sk:
        with BuildLine():
            Line((-70, -10), (-12, -10))
            ThreePointArc((-12, -10), (-2, 0), (-12, 10))
            Line((-12, 10), (-70, 10))
            ThreePointArc((-70, 10), (-80, 0), (-70, -10))
        make_face()
    extrude(amount=-F9_DEPTH, mode=Mode.SUBTRACT)
    extrude(f9_sk.sketch, amount=F9_DEPTH_BACK, mode=Mode.SUBTRACT)

    # F11 (on line) → F12 (cut, two sides)
    with BuildSketch(Plane(origin=(0, 0, 0), x_dir=(0, -1, 0), z_dir=(-0.8660254038, 0, -0.5))) as f12_sk:
        with BuildLine():
            Line((70, 10), (12, 10))
            ThreePointArc((12, 10), (2, 0), (12, -10))
            Line((12, -10), (70, -10))
            ThreePointArc((70, -10), (80, 0), (70, 10))
        make_face()
    extrude(amount=-F12_DEPTH, mode=Mode.SUBTRACT)
    extrude(f12_sk.sketch, amount=F12_DEPTH_BACK, mode=Mode.SUBTRACT)

    # F13
    f13_edges = [f2_1.edges().sort_by_distance(p)[0] for p in [
        (-45, -100, 0),
        (-50, -100, 0),
        (-50, 18, 0),
    ]]
    chamfer(f13_edges, length=F13_SIZE)


solid = f2_1.part
